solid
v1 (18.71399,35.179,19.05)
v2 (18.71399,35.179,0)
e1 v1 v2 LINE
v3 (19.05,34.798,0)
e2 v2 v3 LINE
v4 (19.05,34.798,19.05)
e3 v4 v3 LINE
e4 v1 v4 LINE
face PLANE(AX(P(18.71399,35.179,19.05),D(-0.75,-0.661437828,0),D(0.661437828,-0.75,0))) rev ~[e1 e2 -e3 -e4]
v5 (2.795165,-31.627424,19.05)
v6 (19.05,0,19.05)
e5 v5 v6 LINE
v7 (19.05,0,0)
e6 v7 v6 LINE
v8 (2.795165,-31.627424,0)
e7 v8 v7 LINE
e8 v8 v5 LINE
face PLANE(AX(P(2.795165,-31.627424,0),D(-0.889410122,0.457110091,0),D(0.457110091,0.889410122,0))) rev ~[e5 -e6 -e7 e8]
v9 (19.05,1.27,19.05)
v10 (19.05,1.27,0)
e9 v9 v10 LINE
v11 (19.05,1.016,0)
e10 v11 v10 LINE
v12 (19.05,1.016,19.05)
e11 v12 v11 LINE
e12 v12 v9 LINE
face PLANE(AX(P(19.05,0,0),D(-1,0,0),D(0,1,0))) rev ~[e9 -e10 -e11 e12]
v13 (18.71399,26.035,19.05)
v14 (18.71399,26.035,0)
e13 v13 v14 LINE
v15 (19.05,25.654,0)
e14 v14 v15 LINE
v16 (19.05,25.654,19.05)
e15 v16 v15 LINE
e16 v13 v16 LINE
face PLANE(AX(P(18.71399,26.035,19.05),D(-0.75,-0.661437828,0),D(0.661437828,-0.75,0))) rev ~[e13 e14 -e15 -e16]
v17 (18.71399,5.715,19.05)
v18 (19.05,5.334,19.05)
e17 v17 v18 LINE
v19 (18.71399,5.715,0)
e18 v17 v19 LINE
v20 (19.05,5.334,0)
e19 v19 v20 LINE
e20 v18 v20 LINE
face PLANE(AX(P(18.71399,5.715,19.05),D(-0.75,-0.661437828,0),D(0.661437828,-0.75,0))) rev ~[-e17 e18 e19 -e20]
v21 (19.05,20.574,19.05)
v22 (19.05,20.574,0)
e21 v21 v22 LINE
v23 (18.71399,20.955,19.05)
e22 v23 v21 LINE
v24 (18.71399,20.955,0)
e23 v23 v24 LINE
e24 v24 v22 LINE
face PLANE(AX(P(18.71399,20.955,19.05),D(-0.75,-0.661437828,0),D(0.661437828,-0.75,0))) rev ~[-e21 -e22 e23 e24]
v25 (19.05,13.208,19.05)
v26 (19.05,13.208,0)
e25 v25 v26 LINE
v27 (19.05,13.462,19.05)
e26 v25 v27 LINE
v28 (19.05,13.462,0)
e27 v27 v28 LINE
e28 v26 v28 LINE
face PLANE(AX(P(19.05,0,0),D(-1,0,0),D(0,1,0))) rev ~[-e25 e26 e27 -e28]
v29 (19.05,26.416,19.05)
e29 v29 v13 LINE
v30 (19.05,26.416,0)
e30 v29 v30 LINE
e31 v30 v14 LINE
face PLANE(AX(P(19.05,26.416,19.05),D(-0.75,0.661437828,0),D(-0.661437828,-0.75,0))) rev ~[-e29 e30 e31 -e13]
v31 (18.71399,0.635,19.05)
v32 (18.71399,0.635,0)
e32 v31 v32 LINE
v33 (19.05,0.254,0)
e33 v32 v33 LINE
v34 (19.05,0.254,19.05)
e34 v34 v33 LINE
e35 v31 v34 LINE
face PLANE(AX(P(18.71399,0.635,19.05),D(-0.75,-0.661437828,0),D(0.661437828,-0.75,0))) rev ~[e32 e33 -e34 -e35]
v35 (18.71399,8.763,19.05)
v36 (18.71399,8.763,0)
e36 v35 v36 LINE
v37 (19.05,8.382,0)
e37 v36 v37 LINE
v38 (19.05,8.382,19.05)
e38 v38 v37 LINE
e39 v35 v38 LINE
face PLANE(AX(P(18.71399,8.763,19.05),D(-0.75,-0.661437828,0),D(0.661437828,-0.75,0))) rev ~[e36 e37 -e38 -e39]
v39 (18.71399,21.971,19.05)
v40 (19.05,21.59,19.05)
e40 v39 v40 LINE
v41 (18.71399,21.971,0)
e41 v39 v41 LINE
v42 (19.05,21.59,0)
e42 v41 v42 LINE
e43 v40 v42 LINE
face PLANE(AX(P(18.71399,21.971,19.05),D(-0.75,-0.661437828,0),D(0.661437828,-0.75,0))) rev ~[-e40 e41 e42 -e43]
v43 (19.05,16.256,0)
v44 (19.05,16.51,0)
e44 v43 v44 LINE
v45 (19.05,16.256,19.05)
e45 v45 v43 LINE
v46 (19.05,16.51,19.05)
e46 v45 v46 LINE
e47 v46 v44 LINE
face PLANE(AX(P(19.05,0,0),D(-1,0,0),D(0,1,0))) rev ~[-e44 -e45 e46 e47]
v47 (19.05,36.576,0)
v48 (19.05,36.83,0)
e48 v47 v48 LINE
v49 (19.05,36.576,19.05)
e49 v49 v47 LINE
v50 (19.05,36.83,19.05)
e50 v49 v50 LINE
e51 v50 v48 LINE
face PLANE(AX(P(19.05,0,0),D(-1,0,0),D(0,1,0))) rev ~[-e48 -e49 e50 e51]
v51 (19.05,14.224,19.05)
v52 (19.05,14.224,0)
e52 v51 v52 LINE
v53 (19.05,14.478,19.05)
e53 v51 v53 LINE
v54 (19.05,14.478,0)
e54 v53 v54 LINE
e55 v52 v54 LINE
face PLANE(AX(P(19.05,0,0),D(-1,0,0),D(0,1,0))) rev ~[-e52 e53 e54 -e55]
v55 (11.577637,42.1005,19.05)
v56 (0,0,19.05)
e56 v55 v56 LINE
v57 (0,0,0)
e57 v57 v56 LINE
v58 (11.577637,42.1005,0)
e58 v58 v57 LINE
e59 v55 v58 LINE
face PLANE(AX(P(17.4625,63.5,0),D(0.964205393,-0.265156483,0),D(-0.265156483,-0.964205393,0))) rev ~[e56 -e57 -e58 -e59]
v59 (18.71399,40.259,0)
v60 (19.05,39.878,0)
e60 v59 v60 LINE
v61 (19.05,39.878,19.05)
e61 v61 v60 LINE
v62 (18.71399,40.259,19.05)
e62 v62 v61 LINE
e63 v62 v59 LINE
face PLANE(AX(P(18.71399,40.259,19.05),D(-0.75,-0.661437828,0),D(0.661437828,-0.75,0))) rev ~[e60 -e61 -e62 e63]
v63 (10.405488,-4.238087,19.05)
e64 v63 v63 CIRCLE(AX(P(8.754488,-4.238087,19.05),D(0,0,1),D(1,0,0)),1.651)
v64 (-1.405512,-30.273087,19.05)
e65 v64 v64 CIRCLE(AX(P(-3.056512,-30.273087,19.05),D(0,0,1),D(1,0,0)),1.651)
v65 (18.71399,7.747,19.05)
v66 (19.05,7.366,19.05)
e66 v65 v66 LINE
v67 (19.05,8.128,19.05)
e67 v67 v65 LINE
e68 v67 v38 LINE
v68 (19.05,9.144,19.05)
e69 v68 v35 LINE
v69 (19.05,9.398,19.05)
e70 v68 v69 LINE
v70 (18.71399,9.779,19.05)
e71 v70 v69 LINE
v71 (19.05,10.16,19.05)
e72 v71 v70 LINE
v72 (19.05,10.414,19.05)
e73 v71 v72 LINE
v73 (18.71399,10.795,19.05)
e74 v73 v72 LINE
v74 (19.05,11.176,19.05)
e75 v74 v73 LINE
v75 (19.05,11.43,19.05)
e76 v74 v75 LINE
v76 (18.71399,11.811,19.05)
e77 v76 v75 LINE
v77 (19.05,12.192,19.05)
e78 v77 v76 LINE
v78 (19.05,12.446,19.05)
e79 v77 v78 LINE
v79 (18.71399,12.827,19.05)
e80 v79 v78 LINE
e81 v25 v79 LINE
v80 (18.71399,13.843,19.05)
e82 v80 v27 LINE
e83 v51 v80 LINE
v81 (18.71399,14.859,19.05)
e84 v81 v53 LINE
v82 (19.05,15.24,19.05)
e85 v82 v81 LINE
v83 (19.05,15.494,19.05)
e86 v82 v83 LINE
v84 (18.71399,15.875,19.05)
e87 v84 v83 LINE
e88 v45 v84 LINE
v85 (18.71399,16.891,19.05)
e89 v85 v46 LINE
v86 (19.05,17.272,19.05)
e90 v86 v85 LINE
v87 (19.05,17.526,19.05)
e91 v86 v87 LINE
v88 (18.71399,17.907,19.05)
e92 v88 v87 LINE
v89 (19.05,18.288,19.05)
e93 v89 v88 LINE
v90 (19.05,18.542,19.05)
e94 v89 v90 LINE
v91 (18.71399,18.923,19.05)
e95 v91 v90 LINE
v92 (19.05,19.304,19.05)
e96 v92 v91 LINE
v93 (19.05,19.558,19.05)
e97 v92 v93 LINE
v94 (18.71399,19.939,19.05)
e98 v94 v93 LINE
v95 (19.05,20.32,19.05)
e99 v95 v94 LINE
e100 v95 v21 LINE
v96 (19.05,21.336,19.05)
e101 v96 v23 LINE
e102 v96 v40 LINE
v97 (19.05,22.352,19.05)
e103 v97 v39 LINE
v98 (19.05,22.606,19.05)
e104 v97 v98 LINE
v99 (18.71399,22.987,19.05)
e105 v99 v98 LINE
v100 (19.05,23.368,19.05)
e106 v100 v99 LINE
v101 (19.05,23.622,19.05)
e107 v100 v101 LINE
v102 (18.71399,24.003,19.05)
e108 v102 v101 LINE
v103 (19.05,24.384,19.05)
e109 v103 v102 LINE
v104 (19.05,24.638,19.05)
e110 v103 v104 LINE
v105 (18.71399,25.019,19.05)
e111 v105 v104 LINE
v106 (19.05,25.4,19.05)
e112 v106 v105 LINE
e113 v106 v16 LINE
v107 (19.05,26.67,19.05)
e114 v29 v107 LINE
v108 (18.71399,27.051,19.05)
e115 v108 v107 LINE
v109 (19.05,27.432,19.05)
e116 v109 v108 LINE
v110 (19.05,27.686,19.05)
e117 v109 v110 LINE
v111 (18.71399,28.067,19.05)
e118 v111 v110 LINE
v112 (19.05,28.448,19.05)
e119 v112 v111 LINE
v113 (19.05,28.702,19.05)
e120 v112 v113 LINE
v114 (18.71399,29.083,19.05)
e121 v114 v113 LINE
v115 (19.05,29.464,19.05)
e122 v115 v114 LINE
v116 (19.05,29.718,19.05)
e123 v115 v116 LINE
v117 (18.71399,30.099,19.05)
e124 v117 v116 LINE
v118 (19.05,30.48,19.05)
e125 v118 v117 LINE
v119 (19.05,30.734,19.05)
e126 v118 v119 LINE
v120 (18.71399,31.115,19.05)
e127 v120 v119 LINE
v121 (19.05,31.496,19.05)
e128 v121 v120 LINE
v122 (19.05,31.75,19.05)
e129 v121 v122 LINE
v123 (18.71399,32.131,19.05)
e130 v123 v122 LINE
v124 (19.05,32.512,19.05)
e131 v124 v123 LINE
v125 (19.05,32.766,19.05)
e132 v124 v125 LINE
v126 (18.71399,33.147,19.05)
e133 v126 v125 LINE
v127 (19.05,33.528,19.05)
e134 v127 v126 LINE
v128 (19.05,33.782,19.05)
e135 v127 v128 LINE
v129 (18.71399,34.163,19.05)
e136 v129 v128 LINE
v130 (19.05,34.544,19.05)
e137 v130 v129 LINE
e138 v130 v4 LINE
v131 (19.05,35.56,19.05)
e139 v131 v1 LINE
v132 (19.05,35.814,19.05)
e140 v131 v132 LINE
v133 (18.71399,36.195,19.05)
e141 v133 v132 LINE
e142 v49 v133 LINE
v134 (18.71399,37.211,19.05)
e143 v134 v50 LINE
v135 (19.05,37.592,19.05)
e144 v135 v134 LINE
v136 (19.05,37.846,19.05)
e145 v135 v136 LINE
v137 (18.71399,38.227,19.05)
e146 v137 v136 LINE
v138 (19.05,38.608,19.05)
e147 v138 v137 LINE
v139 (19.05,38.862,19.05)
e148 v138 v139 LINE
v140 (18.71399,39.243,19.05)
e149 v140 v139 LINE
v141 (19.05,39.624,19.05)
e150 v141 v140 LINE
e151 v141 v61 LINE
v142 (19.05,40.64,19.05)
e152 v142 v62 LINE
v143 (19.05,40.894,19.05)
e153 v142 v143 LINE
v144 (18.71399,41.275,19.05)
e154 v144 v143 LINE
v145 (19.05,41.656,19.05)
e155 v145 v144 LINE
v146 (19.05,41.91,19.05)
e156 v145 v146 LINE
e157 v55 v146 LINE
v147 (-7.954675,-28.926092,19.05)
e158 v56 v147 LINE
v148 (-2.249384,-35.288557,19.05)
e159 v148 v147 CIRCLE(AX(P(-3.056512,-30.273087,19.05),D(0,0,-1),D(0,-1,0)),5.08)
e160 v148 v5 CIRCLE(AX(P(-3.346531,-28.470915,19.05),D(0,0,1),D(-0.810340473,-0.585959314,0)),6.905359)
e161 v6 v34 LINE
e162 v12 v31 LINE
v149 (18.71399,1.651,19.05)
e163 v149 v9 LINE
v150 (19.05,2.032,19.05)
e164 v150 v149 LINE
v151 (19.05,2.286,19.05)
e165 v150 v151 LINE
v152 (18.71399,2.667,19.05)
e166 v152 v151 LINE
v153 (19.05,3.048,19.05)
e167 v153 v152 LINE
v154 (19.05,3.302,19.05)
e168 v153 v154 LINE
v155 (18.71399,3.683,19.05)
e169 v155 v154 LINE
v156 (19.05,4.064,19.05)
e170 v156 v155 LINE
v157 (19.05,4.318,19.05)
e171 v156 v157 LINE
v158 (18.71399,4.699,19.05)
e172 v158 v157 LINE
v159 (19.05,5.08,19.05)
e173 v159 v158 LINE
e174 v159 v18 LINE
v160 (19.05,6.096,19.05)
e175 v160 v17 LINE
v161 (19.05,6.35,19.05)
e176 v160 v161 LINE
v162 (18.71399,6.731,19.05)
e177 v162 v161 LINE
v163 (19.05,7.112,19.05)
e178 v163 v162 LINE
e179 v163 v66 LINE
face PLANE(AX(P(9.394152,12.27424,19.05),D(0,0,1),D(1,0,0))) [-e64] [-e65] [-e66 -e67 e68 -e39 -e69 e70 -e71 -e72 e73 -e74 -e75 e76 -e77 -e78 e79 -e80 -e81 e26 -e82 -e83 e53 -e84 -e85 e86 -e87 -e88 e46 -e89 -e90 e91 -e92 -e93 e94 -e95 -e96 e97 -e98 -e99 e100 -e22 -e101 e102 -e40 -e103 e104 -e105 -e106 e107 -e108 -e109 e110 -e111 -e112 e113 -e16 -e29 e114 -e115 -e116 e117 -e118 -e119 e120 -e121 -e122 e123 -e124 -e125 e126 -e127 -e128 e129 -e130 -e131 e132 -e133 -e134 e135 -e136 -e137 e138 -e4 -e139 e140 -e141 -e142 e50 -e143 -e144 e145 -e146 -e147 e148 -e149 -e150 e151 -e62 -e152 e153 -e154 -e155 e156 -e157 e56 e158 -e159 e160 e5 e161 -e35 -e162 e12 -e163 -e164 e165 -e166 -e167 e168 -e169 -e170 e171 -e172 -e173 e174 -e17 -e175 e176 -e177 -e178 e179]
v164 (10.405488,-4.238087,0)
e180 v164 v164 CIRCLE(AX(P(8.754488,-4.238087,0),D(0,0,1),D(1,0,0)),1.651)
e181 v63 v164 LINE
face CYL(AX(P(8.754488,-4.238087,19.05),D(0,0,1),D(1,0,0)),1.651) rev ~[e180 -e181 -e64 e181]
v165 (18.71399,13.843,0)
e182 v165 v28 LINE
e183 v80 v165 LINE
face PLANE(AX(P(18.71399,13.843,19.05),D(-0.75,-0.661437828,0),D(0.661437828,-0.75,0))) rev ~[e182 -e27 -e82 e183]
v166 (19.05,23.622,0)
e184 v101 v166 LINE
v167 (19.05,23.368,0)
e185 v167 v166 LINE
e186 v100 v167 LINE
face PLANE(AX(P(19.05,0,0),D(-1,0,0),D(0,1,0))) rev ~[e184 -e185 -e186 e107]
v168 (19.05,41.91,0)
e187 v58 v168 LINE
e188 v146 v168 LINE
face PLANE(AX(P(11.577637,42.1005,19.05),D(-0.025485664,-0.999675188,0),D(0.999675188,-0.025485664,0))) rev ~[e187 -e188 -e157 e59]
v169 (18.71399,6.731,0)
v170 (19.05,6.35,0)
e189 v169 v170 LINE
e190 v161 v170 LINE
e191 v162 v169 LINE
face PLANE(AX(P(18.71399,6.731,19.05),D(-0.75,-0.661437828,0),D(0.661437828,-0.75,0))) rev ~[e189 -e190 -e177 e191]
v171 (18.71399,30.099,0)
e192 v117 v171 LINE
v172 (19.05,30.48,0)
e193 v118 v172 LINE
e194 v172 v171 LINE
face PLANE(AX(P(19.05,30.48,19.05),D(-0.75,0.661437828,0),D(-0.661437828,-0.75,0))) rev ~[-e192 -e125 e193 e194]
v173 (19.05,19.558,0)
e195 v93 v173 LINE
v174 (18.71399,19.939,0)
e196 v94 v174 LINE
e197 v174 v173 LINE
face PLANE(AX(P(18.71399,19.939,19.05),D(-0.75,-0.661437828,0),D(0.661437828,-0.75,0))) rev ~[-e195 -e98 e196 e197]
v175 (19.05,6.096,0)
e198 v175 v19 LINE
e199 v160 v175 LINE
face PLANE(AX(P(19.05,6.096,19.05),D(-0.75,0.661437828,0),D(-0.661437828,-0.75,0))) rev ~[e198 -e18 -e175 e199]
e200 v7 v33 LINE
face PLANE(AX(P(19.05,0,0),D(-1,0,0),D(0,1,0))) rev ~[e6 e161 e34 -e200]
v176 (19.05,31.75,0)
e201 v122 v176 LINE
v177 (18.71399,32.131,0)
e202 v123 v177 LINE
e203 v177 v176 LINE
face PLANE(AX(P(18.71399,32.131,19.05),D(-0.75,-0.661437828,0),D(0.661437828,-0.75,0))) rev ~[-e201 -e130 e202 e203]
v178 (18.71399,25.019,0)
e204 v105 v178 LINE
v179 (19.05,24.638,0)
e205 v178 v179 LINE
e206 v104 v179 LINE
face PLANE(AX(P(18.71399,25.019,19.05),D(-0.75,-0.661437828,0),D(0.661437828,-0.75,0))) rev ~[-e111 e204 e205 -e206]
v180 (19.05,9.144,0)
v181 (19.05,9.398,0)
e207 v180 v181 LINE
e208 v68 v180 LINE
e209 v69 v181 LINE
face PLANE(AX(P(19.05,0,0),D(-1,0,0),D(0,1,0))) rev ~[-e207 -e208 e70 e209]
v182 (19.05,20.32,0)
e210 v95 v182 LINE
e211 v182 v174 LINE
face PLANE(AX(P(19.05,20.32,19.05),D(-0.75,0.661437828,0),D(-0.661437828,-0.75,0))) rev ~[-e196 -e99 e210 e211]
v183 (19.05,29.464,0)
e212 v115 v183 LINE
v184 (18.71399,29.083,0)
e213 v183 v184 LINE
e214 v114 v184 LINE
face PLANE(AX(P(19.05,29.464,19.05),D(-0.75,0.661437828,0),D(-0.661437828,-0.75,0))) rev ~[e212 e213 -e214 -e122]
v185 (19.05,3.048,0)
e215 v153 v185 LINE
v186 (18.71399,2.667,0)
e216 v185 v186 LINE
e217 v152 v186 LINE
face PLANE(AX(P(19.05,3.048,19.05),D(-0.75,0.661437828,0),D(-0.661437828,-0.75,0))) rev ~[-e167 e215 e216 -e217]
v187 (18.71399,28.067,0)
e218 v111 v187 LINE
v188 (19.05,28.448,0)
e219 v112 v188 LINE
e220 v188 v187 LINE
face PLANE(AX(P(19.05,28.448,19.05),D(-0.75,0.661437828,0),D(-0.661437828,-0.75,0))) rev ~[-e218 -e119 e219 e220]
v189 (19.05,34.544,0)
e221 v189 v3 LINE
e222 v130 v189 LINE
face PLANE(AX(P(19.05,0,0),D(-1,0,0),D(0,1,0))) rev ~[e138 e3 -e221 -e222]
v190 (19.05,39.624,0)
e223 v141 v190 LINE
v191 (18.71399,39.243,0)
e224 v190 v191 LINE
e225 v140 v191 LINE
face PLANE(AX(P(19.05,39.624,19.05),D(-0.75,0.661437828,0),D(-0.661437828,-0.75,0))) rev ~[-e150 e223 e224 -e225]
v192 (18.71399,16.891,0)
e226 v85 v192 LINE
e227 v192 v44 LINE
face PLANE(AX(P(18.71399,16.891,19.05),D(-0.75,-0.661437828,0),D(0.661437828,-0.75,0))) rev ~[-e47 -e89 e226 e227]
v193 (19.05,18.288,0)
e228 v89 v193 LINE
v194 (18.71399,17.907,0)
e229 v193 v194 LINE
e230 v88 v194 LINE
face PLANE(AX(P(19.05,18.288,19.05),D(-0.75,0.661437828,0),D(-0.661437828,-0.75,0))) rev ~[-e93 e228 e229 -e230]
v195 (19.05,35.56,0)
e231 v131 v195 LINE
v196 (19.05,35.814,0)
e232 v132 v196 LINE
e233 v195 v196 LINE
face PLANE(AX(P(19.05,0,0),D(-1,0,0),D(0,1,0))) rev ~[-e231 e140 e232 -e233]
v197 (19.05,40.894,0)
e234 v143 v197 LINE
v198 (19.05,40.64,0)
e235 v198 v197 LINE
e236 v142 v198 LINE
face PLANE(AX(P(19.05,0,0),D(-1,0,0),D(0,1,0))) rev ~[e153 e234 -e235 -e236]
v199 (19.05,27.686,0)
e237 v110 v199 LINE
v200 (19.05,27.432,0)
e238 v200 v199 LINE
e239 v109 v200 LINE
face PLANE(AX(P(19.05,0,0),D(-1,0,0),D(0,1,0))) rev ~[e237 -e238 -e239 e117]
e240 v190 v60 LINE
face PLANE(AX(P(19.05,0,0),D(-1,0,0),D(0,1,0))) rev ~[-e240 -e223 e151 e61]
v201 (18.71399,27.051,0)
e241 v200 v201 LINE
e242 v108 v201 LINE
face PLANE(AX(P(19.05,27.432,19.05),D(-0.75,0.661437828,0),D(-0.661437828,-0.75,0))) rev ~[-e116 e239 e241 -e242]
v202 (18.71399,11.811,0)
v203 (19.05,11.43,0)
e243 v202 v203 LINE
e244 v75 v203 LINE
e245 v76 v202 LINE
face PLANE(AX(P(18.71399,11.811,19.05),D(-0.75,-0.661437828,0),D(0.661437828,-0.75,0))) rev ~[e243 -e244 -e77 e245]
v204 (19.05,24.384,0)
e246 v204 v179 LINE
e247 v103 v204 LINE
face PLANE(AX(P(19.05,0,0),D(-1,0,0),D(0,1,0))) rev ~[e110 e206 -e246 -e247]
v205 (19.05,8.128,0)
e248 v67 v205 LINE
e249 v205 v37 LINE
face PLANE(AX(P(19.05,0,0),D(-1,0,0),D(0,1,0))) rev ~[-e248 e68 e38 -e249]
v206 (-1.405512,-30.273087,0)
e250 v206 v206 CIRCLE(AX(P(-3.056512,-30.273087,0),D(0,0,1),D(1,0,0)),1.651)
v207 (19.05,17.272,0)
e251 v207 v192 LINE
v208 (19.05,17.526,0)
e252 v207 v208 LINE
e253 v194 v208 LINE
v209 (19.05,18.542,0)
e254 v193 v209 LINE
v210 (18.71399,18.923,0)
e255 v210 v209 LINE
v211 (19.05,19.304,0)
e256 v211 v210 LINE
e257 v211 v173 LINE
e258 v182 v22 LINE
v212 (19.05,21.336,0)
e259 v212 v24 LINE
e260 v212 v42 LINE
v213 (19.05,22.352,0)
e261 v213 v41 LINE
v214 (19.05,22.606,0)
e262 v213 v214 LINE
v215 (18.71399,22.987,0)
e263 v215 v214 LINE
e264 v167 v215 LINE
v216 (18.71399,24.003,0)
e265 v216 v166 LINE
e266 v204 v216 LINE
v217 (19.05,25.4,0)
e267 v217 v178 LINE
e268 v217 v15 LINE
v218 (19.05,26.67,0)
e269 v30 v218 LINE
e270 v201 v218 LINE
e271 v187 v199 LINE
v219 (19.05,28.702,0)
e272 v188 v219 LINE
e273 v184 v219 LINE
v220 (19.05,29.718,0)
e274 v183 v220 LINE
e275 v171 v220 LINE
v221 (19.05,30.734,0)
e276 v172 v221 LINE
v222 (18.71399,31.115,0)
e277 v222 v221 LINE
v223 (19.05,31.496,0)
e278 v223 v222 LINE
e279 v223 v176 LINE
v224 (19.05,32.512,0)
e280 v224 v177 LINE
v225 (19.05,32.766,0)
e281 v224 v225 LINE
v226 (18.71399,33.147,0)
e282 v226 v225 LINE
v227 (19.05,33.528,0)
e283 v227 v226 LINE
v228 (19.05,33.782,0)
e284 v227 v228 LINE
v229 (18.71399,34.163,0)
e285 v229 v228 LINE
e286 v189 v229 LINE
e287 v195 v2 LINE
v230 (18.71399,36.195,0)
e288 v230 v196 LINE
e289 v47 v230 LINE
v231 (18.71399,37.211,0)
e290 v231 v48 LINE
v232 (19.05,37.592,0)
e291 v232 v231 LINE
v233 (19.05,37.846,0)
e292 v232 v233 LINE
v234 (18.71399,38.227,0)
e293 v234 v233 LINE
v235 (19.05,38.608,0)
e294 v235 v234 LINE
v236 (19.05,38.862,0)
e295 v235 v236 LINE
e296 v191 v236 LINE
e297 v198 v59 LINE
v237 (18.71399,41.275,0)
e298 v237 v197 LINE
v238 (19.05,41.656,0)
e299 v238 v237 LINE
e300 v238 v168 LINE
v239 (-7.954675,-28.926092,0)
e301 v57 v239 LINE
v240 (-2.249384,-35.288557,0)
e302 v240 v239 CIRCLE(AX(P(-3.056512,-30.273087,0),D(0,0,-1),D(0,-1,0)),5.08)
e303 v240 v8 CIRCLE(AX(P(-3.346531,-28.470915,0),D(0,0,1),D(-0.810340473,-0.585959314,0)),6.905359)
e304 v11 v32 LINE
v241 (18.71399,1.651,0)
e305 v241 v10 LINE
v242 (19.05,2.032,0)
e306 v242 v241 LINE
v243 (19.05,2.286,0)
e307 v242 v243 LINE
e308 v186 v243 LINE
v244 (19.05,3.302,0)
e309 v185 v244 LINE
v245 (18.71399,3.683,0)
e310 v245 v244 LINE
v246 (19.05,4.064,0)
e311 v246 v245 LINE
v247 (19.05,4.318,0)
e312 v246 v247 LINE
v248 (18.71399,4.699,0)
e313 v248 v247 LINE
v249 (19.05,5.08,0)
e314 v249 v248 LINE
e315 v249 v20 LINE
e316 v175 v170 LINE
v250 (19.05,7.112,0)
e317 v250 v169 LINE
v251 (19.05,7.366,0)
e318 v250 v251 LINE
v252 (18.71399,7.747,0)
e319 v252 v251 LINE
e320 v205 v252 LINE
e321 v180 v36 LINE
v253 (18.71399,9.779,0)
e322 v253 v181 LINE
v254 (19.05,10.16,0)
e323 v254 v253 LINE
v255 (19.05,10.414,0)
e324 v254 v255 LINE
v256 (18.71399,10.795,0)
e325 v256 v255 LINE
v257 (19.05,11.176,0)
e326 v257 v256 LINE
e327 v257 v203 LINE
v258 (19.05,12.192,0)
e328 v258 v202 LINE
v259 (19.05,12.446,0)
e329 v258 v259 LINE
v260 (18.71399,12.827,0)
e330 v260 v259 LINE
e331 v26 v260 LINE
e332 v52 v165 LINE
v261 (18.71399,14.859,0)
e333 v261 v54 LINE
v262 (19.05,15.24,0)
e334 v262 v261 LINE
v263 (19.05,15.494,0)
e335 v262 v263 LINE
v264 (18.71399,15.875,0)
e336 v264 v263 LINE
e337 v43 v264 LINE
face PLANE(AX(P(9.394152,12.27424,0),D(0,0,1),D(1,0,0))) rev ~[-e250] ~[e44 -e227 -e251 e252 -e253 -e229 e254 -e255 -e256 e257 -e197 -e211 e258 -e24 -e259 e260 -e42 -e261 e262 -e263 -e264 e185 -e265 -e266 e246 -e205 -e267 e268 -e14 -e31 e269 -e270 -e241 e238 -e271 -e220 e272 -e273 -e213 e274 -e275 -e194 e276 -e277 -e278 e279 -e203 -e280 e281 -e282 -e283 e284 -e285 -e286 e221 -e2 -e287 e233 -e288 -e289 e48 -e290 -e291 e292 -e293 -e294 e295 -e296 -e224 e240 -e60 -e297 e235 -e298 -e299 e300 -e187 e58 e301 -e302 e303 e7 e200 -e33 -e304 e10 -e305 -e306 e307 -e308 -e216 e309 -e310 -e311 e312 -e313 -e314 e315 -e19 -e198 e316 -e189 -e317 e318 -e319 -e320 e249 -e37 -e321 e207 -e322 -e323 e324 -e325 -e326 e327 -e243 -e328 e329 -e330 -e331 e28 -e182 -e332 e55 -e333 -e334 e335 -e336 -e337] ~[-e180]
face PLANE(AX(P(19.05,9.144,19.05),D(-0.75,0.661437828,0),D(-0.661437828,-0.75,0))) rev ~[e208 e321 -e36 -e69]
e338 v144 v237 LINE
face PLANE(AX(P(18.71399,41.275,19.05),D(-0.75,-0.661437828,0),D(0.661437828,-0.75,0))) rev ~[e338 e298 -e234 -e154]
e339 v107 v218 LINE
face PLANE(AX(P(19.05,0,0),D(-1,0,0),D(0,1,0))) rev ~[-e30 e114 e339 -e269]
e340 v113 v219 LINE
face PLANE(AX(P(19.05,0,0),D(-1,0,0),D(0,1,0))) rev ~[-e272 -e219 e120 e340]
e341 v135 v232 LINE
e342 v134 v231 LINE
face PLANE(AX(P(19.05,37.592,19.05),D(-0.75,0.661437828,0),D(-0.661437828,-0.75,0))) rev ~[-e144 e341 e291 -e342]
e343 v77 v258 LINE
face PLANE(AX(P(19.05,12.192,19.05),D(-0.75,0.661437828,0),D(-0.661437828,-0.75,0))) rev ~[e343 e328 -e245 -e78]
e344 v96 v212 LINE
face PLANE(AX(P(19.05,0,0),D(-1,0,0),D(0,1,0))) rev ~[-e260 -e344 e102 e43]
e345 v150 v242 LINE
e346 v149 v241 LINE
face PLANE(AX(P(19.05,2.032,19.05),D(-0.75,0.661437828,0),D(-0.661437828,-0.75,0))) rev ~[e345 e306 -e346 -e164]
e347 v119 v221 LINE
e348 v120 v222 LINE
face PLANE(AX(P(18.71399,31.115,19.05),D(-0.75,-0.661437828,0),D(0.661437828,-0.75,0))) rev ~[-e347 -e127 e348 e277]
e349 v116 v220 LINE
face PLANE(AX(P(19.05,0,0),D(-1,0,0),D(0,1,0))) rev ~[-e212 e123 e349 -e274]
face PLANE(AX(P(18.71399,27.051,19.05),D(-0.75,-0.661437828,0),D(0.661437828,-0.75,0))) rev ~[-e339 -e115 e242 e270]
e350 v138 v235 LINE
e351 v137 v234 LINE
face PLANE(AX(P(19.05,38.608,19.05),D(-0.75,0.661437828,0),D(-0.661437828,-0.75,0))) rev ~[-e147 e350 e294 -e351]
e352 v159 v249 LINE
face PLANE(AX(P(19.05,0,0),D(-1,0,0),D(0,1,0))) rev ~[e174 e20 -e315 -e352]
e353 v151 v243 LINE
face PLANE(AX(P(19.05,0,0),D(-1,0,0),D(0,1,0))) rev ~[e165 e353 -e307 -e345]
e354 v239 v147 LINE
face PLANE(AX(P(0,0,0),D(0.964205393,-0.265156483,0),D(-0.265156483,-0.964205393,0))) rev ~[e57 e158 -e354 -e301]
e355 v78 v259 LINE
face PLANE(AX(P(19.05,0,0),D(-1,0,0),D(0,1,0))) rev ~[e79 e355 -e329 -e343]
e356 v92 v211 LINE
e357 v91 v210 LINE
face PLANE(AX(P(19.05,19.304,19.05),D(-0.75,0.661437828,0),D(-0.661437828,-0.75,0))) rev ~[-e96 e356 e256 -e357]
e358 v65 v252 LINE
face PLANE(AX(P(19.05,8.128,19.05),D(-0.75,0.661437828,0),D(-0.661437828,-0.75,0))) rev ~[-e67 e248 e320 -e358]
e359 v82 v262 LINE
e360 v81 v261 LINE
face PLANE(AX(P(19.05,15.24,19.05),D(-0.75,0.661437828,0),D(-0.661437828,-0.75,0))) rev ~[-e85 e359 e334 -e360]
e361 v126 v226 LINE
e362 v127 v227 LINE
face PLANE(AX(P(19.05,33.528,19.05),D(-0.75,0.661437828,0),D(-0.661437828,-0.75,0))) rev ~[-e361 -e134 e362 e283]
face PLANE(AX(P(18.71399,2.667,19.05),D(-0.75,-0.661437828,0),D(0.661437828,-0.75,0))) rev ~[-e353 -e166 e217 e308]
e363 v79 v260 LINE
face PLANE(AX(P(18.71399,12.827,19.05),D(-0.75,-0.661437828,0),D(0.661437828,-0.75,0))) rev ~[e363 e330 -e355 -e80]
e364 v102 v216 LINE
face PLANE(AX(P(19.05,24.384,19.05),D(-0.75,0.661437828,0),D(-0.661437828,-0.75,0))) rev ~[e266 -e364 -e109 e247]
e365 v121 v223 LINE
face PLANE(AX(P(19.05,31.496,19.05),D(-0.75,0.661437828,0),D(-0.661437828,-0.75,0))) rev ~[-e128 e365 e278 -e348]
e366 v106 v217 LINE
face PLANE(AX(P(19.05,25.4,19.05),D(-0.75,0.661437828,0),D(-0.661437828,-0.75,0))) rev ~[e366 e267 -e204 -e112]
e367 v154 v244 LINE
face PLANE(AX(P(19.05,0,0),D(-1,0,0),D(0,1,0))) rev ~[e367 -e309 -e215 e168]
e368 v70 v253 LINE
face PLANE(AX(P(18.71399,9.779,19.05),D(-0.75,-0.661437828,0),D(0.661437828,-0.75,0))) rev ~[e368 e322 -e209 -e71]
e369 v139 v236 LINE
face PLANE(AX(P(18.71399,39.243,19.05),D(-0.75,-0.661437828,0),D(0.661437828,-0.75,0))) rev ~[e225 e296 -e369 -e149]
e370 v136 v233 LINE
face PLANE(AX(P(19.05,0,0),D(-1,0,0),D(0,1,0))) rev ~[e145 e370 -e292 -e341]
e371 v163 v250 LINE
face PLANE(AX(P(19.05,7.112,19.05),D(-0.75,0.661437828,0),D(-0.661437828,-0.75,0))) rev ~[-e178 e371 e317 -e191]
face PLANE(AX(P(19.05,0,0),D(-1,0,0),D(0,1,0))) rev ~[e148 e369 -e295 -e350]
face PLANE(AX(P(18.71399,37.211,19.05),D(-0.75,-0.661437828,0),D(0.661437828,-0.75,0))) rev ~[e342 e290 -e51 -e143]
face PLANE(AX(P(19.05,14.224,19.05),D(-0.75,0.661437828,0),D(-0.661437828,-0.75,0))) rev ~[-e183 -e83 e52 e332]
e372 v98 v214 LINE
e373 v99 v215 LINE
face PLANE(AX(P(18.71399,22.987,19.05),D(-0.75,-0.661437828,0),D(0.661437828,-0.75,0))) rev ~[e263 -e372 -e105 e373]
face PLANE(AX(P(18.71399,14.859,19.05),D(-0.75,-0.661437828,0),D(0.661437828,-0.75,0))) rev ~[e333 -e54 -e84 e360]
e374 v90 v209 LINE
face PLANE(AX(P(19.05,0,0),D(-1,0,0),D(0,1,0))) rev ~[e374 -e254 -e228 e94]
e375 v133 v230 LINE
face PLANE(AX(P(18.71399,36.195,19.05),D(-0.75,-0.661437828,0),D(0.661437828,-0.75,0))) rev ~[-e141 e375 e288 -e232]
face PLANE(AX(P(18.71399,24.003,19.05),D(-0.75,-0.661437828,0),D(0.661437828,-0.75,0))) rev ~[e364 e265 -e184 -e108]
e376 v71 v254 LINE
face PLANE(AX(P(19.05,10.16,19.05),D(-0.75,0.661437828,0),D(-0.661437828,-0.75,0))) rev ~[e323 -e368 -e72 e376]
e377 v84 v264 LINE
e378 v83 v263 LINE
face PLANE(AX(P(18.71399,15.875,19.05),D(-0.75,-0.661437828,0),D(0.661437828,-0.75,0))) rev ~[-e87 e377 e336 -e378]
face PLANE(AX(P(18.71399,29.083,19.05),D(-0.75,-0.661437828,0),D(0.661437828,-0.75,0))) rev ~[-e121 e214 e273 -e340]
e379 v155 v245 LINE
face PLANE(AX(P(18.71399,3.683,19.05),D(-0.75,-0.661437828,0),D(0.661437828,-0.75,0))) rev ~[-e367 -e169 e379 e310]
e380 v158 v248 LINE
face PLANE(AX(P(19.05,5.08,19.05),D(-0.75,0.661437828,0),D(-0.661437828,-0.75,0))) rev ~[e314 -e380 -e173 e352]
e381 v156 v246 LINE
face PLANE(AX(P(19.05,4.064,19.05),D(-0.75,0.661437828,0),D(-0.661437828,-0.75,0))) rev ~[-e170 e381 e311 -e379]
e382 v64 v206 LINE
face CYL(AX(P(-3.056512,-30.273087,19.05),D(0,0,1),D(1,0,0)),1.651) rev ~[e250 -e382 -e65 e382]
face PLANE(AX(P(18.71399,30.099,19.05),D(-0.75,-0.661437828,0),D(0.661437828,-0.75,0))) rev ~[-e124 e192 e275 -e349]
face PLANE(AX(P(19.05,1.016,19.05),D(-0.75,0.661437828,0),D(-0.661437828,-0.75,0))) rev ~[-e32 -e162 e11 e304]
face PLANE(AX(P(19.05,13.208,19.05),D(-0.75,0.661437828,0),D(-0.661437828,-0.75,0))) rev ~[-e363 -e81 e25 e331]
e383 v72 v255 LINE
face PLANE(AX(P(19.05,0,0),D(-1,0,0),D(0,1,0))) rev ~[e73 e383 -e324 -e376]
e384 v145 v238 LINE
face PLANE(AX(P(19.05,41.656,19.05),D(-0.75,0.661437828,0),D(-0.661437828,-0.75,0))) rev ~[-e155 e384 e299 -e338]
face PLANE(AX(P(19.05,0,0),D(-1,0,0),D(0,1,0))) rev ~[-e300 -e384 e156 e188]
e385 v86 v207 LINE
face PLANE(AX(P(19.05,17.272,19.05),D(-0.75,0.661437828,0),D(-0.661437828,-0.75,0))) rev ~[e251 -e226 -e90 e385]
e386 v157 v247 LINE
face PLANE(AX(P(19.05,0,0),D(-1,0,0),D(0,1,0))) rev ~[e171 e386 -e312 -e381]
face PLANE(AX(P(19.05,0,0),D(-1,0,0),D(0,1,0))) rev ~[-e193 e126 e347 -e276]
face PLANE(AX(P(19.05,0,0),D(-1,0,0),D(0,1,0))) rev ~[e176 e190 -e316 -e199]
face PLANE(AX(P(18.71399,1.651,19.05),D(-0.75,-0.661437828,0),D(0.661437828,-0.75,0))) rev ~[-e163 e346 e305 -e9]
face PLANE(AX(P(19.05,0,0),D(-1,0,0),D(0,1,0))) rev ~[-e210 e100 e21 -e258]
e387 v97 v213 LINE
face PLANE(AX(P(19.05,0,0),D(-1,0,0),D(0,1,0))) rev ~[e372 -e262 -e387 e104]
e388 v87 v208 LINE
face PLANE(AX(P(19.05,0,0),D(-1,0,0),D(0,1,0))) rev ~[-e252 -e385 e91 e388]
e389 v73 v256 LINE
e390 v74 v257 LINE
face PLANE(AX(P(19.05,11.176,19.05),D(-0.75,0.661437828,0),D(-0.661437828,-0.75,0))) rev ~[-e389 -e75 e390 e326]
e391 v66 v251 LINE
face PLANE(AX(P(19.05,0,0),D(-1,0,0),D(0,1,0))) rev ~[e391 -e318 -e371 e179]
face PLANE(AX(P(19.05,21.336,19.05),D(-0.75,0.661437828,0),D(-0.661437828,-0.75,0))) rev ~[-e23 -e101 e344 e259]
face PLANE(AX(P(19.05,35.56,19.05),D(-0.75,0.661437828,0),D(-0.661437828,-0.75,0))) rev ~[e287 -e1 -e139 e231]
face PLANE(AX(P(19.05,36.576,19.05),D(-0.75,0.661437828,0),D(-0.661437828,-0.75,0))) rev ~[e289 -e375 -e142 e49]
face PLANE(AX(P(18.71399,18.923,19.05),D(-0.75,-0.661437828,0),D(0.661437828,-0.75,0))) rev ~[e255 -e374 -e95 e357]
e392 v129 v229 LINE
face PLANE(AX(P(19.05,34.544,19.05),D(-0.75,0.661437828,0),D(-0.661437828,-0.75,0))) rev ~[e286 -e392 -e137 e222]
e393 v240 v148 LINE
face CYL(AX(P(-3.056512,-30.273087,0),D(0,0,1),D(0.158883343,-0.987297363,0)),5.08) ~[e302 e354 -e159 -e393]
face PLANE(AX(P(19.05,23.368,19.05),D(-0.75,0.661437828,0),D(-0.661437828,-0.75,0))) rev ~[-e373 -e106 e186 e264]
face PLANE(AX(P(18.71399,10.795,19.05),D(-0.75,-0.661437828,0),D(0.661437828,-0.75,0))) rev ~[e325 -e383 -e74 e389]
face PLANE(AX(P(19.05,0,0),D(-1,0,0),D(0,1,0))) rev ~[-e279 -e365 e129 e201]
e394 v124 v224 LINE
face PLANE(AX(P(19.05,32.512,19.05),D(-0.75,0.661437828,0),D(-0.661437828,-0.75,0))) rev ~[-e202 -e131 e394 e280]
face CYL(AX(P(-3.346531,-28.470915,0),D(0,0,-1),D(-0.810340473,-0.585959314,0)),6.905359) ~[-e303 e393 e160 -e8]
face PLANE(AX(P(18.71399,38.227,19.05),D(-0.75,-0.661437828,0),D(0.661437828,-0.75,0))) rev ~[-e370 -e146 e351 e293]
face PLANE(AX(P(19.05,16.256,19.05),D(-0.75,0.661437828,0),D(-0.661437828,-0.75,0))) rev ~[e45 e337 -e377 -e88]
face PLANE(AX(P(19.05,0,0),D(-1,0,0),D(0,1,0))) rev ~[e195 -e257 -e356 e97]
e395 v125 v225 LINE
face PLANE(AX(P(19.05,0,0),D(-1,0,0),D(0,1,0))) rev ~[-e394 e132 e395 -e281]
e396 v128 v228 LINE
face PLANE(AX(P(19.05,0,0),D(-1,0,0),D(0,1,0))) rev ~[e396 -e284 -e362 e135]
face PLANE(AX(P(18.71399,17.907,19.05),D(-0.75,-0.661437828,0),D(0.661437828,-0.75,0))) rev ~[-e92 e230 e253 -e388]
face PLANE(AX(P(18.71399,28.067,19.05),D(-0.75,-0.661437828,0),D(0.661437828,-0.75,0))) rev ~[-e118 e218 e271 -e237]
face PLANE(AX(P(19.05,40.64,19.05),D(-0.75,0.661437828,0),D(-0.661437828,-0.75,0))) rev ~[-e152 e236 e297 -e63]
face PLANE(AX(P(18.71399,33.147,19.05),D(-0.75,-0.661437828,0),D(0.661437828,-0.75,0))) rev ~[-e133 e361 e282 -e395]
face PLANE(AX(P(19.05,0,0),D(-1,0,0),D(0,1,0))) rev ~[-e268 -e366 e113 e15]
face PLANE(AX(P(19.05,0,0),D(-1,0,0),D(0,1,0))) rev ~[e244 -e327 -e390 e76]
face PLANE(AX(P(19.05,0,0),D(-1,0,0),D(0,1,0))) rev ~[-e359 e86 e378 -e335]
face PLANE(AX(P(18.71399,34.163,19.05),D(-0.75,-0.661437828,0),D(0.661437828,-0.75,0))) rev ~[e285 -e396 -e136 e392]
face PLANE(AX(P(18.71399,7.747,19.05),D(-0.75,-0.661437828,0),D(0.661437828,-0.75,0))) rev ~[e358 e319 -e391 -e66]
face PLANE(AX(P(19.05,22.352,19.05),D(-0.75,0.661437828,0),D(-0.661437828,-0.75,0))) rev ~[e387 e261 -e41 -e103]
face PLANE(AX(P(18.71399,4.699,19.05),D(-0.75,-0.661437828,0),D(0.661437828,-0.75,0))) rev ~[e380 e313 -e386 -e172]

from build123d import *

# Parameters (mm, degrees)
F1_DEPTH = 19.05
F3_DEPTH = 19.05
F4_R     = 5.08
F5_R     = 1.651
F6_DEPTH = 19.05
F8_DEPTH = 19.051


with BuildPart() as f1:
    # F0 (on Top) → F1 (new body)
    with BuildSketch(Plane.XY):
        with BuildLine():
            Line((2.7951651794, -31.627423938), (19.05, 0))
            Line((19.05, 0), (19.05, 63.5))
            Line((19.05, 63.5), (17.4625, 63.5))
            Line((17.4625, 63.5), (0, 0))
            Line((0, 0), (-8.9422228719, -32.5171740795))
            ThreePointArc((-8.9422228719, -32.5171740795), (-2.8245693117, -35.3565183974), (2.7951651794, -31.627423938))
        make_face()
    extrude(amount=F1_DEPTH)

    # F2 (on face) → F3 (cut, through all)
    with BuildSketch(Plane.XY.offset(19.05)):
        Polygon((18.7139895835, 0.635), (19.05, 0.254), (19.05, 1.016), align=None)
        Polygon((19.05, 2.032), (18.7139895835, 1.651), (19.05, 1.27), align=None)
        Polygon((19.05, 3.048), (18.7139895835, 2.667), (19.05, 2.286), align=None)
        Polygon((19.05, 4.064), (18.7139895835, 3.683), (19.05, 3.302), align=None)
        Polygon((19.05, 5.08), (18.7139895835, 4.699), (19.05, 4.318), align=None)
        Polygon((19.05, 6.096), (18.7139895835, 5.715), (19.05, 5.334), align=None)
        Polygon((19.05, 7.112), (18.7139895835, 6.731), (19.05, 6.35), align=None)
        Polygon((19.05, 8.128), (18.7139895835, 7.747), (19.05, 7.366), align=None)
        Polygon((19.05, 9.144), (18.7139895835, 8.763), (19.05, 8.382), align=None)
        Polygon((19.05, 10.16), (18.7139895835, 9.779), (19.05, 9.398), align=None)
        Polygon((19.05, 11.176), (18.7139895835, 10.795), (19.05, 10.414), align=None)
        Polygon((19.05, 12.192), (18.7139895835, 11.811), (19.05, 11.43), align=None)
        Polygon((19.05, 13.208), (18.7139895835, 12.827), (19.05, 12.446), align=None)
        Polygon((19.05, 14.224), (18.7139895835, 13.843), (19.05, 13.462), align=None)
        Polygon((19.05, 15.24), (18.7139895835, 14.859), (19.05, 14.478), align=None)
        Polygon((19.05, 16.256), (18.7139895835, 15.875), (19.05, 15.494), align=None)
        Polygon((19.05, 17.272), (18.7139895835, 16.891), (19.05, 16.51), align=None)
        Polygon((19.05, 18.288), (18.7139895835, 17.907), (19.05, 17.526), align=None)
        Polygon((19.05, 19.304), (18.7139895835, 18.923), (19.05, 18.542), align=None)
        Polygon((19.05, 20.32), (18.7139895835, 19.939), (19.05, 19.558), align=None)
        Polygon((19.05, 21.336), (18.7139895835, 20.955), (19.05, 20.574), align=None)
        Polygon((19.05, 22.352), (18.7139895835, 21.971), (19.05, 21.59), align=None)
        Polygon((19.05, 23.368), (18.7139895835, 22.987), (19.05, 22.606), align=None)
        Polygon((19.05, 24.384), (18.7139895835, 24.003), (19.05, 23.622), align=None)
        Polygon((19.05, 25.4), (18.7139895835, 25.019), (19.05, 24.638), align=None)
        Polygon((19.05, 26.416), (18.7139895835, 26.035), (19.05, 25.654), align=None)
        Polygon((19.05, 27.432), (18.7139895835, 27.051), (19.05, 26.67), align=None)
        Polygon((19.05, 28.448), (18.7139895835, 28.067), (19.05, 27.686), align=None)
        Polygon((19.05, 29.464), (18.7139895835, 29.083), (19.05, 28.702), align=None)
        Polygon((19.05, 30.48), (18.7139895835, 30.099), (19.05, 29.718), align=None)
        Polygon((19.05, 31.496), (18.7139895835, 31.115), (19.05, 30.734), align=None)
        Polygon((19.05, 32.512), (18.7139895835, 32.131), (19.05, 31.75), align=None)
        Polygon((19.05, 33.528), (18.7139895835, 33.147), (19.05, 32.766), align=None)
        Polygon((19.05, 34.544), (18.7139895835, 34.163), (19.05, 33.782), align=None)
        Polygon((19.05, 35.56), (18.7139895835, 35.179), (19.05, 34.798), align=None)
        Polygon((19.05, 36.576), (18.7139895835, 36.195), (19.05, 35.814), align=None)
        Polygon((19.05, 37.592), (18.7139895835, 37.211), (19.05, 36.83), align=None)
        Polygon((19.05, 38.608), (18.7139895835, 38.227), (19.05, 37.846), align=None)
        Polygon((19.05, 39.624), (18.7139895835, 39.243), (19.05, 38.862), align=None)
        Polygon((19.05, 40.64), (18.7139895835, 40.259), (19.05, 39.878), align=None)
        Polygon((19.05, 41.656), (18.7139895835, 41.275), (19.05, 40.894), align=None)
        Polygon((19.05, 42.672), (18.7139895835, 42.291), (19.05, 41.91), align=None)
        Polygon((19.05, 43.688), (18.7139895835, 43.307), (19.05, 42.926), align=None)
        Polygon((19.05, 44.704), (18.7139895835, 44.323), (19.05, 43.942), align=None)
        Polygon((19.05, 45.72), (18.7139895835, 45.339), (19.05, 44.958), align=None)
        Polygon((19.05, 46.736), (18.7139895835, 46.355), (19.05, 45.974), align=None)
        Polygon((19.05, 47.752), (18.7139895835, 47.371), (19.05, 46.99), align=None)
        Polygon((19.05, 48.768), (18.7139895835, 48.387), (19.05, 48.006), align=None)
        Polygon((19.05, 49.784), (18.7139895835, 49.403), (19.05, 49.022), align=None)
        Polygon((19.05, 50.8), (18.7139895835, 50.419), (19.05, 50.038), align=None)
        Polygon((19.05, 51.816), (18.7139895835, 51.435), (19.05, 51.054), align=None)
        Polygon((19.05, 52.832), (18.7139895835, 52.451), (19.05, 52.07), align=None)
        Polygon((19.05, 53.848), (18.7139895835, 53.467), (19.05, 53.086), align=None)
        Polygon((19.05, 54.864), (18.7139895835, 54.483), (19.05, 54.102), align=None)
        Polygon((19.05, 55.88), (18.7139895835, 55.499), (19.05, 55.118), align=None)
        Polygon((19.05, 56.896), (18.7139895835, 56.515), (19.05, 56.134), align=None)
        Polygon((19.05, 57.912), (18.7139895835, 57.531), (19.05, 57.15), align=None)
        Polygon((19.05, 58.928), (18.7139895835, 58.547), (19.05, 58.166), align=None)
        Polygon((19.05, 59.944), (18.7139895835, 59.563), (19.05, 59.182), align=None)
        Polygon((19.05, 60.96), (18.7139895835, 60.579), (19.05, 60.198), align=None)
        Polygon((19.05, 61.976), (18.7139895835, 61.595), (19.05, 61.214), align=None)
        Polygon((19.05, 62.992), (18.7139895835, 62.611), (19.05, 62.23), align=None)
    extrude(amount=-F3_DEPTH, mode=Mode.SUBTRACT)

    # F4
    f4_edges = [f1.edges().sort_by_distance(p)[0] for p in [
        (-8.942223, -32.517174, 9.525),
    ]]
    fillet(f4_edges, radius=F4_R)

    # F5 (on face) → F6 (cut, through all)
    with BuildSketch(Plane.XY.offset(19.05)):
        with Locations((-3.0565118627, -30.2730867816)):
            Circle(F5_R)
        with Locations((8.7544881373, -4.2380867816)):
            Circle(F5_R)
    extrude(amount=-F6_DEPTH, mode=Mode.SUBTRACT)

    # F7 (on face) → F8 (cut, through all)
    with BuildSketch(Plane.XY.offset(19.05)):
        Polygon((19.05, 63.5), (17.4625, 63.5), (11.5776375, 42.1005), (19.05, 41.91), align=None)
    extrude(amount=-F8_DEPTH, mode=Mode.SUBTRACT)


solid = f1.part
